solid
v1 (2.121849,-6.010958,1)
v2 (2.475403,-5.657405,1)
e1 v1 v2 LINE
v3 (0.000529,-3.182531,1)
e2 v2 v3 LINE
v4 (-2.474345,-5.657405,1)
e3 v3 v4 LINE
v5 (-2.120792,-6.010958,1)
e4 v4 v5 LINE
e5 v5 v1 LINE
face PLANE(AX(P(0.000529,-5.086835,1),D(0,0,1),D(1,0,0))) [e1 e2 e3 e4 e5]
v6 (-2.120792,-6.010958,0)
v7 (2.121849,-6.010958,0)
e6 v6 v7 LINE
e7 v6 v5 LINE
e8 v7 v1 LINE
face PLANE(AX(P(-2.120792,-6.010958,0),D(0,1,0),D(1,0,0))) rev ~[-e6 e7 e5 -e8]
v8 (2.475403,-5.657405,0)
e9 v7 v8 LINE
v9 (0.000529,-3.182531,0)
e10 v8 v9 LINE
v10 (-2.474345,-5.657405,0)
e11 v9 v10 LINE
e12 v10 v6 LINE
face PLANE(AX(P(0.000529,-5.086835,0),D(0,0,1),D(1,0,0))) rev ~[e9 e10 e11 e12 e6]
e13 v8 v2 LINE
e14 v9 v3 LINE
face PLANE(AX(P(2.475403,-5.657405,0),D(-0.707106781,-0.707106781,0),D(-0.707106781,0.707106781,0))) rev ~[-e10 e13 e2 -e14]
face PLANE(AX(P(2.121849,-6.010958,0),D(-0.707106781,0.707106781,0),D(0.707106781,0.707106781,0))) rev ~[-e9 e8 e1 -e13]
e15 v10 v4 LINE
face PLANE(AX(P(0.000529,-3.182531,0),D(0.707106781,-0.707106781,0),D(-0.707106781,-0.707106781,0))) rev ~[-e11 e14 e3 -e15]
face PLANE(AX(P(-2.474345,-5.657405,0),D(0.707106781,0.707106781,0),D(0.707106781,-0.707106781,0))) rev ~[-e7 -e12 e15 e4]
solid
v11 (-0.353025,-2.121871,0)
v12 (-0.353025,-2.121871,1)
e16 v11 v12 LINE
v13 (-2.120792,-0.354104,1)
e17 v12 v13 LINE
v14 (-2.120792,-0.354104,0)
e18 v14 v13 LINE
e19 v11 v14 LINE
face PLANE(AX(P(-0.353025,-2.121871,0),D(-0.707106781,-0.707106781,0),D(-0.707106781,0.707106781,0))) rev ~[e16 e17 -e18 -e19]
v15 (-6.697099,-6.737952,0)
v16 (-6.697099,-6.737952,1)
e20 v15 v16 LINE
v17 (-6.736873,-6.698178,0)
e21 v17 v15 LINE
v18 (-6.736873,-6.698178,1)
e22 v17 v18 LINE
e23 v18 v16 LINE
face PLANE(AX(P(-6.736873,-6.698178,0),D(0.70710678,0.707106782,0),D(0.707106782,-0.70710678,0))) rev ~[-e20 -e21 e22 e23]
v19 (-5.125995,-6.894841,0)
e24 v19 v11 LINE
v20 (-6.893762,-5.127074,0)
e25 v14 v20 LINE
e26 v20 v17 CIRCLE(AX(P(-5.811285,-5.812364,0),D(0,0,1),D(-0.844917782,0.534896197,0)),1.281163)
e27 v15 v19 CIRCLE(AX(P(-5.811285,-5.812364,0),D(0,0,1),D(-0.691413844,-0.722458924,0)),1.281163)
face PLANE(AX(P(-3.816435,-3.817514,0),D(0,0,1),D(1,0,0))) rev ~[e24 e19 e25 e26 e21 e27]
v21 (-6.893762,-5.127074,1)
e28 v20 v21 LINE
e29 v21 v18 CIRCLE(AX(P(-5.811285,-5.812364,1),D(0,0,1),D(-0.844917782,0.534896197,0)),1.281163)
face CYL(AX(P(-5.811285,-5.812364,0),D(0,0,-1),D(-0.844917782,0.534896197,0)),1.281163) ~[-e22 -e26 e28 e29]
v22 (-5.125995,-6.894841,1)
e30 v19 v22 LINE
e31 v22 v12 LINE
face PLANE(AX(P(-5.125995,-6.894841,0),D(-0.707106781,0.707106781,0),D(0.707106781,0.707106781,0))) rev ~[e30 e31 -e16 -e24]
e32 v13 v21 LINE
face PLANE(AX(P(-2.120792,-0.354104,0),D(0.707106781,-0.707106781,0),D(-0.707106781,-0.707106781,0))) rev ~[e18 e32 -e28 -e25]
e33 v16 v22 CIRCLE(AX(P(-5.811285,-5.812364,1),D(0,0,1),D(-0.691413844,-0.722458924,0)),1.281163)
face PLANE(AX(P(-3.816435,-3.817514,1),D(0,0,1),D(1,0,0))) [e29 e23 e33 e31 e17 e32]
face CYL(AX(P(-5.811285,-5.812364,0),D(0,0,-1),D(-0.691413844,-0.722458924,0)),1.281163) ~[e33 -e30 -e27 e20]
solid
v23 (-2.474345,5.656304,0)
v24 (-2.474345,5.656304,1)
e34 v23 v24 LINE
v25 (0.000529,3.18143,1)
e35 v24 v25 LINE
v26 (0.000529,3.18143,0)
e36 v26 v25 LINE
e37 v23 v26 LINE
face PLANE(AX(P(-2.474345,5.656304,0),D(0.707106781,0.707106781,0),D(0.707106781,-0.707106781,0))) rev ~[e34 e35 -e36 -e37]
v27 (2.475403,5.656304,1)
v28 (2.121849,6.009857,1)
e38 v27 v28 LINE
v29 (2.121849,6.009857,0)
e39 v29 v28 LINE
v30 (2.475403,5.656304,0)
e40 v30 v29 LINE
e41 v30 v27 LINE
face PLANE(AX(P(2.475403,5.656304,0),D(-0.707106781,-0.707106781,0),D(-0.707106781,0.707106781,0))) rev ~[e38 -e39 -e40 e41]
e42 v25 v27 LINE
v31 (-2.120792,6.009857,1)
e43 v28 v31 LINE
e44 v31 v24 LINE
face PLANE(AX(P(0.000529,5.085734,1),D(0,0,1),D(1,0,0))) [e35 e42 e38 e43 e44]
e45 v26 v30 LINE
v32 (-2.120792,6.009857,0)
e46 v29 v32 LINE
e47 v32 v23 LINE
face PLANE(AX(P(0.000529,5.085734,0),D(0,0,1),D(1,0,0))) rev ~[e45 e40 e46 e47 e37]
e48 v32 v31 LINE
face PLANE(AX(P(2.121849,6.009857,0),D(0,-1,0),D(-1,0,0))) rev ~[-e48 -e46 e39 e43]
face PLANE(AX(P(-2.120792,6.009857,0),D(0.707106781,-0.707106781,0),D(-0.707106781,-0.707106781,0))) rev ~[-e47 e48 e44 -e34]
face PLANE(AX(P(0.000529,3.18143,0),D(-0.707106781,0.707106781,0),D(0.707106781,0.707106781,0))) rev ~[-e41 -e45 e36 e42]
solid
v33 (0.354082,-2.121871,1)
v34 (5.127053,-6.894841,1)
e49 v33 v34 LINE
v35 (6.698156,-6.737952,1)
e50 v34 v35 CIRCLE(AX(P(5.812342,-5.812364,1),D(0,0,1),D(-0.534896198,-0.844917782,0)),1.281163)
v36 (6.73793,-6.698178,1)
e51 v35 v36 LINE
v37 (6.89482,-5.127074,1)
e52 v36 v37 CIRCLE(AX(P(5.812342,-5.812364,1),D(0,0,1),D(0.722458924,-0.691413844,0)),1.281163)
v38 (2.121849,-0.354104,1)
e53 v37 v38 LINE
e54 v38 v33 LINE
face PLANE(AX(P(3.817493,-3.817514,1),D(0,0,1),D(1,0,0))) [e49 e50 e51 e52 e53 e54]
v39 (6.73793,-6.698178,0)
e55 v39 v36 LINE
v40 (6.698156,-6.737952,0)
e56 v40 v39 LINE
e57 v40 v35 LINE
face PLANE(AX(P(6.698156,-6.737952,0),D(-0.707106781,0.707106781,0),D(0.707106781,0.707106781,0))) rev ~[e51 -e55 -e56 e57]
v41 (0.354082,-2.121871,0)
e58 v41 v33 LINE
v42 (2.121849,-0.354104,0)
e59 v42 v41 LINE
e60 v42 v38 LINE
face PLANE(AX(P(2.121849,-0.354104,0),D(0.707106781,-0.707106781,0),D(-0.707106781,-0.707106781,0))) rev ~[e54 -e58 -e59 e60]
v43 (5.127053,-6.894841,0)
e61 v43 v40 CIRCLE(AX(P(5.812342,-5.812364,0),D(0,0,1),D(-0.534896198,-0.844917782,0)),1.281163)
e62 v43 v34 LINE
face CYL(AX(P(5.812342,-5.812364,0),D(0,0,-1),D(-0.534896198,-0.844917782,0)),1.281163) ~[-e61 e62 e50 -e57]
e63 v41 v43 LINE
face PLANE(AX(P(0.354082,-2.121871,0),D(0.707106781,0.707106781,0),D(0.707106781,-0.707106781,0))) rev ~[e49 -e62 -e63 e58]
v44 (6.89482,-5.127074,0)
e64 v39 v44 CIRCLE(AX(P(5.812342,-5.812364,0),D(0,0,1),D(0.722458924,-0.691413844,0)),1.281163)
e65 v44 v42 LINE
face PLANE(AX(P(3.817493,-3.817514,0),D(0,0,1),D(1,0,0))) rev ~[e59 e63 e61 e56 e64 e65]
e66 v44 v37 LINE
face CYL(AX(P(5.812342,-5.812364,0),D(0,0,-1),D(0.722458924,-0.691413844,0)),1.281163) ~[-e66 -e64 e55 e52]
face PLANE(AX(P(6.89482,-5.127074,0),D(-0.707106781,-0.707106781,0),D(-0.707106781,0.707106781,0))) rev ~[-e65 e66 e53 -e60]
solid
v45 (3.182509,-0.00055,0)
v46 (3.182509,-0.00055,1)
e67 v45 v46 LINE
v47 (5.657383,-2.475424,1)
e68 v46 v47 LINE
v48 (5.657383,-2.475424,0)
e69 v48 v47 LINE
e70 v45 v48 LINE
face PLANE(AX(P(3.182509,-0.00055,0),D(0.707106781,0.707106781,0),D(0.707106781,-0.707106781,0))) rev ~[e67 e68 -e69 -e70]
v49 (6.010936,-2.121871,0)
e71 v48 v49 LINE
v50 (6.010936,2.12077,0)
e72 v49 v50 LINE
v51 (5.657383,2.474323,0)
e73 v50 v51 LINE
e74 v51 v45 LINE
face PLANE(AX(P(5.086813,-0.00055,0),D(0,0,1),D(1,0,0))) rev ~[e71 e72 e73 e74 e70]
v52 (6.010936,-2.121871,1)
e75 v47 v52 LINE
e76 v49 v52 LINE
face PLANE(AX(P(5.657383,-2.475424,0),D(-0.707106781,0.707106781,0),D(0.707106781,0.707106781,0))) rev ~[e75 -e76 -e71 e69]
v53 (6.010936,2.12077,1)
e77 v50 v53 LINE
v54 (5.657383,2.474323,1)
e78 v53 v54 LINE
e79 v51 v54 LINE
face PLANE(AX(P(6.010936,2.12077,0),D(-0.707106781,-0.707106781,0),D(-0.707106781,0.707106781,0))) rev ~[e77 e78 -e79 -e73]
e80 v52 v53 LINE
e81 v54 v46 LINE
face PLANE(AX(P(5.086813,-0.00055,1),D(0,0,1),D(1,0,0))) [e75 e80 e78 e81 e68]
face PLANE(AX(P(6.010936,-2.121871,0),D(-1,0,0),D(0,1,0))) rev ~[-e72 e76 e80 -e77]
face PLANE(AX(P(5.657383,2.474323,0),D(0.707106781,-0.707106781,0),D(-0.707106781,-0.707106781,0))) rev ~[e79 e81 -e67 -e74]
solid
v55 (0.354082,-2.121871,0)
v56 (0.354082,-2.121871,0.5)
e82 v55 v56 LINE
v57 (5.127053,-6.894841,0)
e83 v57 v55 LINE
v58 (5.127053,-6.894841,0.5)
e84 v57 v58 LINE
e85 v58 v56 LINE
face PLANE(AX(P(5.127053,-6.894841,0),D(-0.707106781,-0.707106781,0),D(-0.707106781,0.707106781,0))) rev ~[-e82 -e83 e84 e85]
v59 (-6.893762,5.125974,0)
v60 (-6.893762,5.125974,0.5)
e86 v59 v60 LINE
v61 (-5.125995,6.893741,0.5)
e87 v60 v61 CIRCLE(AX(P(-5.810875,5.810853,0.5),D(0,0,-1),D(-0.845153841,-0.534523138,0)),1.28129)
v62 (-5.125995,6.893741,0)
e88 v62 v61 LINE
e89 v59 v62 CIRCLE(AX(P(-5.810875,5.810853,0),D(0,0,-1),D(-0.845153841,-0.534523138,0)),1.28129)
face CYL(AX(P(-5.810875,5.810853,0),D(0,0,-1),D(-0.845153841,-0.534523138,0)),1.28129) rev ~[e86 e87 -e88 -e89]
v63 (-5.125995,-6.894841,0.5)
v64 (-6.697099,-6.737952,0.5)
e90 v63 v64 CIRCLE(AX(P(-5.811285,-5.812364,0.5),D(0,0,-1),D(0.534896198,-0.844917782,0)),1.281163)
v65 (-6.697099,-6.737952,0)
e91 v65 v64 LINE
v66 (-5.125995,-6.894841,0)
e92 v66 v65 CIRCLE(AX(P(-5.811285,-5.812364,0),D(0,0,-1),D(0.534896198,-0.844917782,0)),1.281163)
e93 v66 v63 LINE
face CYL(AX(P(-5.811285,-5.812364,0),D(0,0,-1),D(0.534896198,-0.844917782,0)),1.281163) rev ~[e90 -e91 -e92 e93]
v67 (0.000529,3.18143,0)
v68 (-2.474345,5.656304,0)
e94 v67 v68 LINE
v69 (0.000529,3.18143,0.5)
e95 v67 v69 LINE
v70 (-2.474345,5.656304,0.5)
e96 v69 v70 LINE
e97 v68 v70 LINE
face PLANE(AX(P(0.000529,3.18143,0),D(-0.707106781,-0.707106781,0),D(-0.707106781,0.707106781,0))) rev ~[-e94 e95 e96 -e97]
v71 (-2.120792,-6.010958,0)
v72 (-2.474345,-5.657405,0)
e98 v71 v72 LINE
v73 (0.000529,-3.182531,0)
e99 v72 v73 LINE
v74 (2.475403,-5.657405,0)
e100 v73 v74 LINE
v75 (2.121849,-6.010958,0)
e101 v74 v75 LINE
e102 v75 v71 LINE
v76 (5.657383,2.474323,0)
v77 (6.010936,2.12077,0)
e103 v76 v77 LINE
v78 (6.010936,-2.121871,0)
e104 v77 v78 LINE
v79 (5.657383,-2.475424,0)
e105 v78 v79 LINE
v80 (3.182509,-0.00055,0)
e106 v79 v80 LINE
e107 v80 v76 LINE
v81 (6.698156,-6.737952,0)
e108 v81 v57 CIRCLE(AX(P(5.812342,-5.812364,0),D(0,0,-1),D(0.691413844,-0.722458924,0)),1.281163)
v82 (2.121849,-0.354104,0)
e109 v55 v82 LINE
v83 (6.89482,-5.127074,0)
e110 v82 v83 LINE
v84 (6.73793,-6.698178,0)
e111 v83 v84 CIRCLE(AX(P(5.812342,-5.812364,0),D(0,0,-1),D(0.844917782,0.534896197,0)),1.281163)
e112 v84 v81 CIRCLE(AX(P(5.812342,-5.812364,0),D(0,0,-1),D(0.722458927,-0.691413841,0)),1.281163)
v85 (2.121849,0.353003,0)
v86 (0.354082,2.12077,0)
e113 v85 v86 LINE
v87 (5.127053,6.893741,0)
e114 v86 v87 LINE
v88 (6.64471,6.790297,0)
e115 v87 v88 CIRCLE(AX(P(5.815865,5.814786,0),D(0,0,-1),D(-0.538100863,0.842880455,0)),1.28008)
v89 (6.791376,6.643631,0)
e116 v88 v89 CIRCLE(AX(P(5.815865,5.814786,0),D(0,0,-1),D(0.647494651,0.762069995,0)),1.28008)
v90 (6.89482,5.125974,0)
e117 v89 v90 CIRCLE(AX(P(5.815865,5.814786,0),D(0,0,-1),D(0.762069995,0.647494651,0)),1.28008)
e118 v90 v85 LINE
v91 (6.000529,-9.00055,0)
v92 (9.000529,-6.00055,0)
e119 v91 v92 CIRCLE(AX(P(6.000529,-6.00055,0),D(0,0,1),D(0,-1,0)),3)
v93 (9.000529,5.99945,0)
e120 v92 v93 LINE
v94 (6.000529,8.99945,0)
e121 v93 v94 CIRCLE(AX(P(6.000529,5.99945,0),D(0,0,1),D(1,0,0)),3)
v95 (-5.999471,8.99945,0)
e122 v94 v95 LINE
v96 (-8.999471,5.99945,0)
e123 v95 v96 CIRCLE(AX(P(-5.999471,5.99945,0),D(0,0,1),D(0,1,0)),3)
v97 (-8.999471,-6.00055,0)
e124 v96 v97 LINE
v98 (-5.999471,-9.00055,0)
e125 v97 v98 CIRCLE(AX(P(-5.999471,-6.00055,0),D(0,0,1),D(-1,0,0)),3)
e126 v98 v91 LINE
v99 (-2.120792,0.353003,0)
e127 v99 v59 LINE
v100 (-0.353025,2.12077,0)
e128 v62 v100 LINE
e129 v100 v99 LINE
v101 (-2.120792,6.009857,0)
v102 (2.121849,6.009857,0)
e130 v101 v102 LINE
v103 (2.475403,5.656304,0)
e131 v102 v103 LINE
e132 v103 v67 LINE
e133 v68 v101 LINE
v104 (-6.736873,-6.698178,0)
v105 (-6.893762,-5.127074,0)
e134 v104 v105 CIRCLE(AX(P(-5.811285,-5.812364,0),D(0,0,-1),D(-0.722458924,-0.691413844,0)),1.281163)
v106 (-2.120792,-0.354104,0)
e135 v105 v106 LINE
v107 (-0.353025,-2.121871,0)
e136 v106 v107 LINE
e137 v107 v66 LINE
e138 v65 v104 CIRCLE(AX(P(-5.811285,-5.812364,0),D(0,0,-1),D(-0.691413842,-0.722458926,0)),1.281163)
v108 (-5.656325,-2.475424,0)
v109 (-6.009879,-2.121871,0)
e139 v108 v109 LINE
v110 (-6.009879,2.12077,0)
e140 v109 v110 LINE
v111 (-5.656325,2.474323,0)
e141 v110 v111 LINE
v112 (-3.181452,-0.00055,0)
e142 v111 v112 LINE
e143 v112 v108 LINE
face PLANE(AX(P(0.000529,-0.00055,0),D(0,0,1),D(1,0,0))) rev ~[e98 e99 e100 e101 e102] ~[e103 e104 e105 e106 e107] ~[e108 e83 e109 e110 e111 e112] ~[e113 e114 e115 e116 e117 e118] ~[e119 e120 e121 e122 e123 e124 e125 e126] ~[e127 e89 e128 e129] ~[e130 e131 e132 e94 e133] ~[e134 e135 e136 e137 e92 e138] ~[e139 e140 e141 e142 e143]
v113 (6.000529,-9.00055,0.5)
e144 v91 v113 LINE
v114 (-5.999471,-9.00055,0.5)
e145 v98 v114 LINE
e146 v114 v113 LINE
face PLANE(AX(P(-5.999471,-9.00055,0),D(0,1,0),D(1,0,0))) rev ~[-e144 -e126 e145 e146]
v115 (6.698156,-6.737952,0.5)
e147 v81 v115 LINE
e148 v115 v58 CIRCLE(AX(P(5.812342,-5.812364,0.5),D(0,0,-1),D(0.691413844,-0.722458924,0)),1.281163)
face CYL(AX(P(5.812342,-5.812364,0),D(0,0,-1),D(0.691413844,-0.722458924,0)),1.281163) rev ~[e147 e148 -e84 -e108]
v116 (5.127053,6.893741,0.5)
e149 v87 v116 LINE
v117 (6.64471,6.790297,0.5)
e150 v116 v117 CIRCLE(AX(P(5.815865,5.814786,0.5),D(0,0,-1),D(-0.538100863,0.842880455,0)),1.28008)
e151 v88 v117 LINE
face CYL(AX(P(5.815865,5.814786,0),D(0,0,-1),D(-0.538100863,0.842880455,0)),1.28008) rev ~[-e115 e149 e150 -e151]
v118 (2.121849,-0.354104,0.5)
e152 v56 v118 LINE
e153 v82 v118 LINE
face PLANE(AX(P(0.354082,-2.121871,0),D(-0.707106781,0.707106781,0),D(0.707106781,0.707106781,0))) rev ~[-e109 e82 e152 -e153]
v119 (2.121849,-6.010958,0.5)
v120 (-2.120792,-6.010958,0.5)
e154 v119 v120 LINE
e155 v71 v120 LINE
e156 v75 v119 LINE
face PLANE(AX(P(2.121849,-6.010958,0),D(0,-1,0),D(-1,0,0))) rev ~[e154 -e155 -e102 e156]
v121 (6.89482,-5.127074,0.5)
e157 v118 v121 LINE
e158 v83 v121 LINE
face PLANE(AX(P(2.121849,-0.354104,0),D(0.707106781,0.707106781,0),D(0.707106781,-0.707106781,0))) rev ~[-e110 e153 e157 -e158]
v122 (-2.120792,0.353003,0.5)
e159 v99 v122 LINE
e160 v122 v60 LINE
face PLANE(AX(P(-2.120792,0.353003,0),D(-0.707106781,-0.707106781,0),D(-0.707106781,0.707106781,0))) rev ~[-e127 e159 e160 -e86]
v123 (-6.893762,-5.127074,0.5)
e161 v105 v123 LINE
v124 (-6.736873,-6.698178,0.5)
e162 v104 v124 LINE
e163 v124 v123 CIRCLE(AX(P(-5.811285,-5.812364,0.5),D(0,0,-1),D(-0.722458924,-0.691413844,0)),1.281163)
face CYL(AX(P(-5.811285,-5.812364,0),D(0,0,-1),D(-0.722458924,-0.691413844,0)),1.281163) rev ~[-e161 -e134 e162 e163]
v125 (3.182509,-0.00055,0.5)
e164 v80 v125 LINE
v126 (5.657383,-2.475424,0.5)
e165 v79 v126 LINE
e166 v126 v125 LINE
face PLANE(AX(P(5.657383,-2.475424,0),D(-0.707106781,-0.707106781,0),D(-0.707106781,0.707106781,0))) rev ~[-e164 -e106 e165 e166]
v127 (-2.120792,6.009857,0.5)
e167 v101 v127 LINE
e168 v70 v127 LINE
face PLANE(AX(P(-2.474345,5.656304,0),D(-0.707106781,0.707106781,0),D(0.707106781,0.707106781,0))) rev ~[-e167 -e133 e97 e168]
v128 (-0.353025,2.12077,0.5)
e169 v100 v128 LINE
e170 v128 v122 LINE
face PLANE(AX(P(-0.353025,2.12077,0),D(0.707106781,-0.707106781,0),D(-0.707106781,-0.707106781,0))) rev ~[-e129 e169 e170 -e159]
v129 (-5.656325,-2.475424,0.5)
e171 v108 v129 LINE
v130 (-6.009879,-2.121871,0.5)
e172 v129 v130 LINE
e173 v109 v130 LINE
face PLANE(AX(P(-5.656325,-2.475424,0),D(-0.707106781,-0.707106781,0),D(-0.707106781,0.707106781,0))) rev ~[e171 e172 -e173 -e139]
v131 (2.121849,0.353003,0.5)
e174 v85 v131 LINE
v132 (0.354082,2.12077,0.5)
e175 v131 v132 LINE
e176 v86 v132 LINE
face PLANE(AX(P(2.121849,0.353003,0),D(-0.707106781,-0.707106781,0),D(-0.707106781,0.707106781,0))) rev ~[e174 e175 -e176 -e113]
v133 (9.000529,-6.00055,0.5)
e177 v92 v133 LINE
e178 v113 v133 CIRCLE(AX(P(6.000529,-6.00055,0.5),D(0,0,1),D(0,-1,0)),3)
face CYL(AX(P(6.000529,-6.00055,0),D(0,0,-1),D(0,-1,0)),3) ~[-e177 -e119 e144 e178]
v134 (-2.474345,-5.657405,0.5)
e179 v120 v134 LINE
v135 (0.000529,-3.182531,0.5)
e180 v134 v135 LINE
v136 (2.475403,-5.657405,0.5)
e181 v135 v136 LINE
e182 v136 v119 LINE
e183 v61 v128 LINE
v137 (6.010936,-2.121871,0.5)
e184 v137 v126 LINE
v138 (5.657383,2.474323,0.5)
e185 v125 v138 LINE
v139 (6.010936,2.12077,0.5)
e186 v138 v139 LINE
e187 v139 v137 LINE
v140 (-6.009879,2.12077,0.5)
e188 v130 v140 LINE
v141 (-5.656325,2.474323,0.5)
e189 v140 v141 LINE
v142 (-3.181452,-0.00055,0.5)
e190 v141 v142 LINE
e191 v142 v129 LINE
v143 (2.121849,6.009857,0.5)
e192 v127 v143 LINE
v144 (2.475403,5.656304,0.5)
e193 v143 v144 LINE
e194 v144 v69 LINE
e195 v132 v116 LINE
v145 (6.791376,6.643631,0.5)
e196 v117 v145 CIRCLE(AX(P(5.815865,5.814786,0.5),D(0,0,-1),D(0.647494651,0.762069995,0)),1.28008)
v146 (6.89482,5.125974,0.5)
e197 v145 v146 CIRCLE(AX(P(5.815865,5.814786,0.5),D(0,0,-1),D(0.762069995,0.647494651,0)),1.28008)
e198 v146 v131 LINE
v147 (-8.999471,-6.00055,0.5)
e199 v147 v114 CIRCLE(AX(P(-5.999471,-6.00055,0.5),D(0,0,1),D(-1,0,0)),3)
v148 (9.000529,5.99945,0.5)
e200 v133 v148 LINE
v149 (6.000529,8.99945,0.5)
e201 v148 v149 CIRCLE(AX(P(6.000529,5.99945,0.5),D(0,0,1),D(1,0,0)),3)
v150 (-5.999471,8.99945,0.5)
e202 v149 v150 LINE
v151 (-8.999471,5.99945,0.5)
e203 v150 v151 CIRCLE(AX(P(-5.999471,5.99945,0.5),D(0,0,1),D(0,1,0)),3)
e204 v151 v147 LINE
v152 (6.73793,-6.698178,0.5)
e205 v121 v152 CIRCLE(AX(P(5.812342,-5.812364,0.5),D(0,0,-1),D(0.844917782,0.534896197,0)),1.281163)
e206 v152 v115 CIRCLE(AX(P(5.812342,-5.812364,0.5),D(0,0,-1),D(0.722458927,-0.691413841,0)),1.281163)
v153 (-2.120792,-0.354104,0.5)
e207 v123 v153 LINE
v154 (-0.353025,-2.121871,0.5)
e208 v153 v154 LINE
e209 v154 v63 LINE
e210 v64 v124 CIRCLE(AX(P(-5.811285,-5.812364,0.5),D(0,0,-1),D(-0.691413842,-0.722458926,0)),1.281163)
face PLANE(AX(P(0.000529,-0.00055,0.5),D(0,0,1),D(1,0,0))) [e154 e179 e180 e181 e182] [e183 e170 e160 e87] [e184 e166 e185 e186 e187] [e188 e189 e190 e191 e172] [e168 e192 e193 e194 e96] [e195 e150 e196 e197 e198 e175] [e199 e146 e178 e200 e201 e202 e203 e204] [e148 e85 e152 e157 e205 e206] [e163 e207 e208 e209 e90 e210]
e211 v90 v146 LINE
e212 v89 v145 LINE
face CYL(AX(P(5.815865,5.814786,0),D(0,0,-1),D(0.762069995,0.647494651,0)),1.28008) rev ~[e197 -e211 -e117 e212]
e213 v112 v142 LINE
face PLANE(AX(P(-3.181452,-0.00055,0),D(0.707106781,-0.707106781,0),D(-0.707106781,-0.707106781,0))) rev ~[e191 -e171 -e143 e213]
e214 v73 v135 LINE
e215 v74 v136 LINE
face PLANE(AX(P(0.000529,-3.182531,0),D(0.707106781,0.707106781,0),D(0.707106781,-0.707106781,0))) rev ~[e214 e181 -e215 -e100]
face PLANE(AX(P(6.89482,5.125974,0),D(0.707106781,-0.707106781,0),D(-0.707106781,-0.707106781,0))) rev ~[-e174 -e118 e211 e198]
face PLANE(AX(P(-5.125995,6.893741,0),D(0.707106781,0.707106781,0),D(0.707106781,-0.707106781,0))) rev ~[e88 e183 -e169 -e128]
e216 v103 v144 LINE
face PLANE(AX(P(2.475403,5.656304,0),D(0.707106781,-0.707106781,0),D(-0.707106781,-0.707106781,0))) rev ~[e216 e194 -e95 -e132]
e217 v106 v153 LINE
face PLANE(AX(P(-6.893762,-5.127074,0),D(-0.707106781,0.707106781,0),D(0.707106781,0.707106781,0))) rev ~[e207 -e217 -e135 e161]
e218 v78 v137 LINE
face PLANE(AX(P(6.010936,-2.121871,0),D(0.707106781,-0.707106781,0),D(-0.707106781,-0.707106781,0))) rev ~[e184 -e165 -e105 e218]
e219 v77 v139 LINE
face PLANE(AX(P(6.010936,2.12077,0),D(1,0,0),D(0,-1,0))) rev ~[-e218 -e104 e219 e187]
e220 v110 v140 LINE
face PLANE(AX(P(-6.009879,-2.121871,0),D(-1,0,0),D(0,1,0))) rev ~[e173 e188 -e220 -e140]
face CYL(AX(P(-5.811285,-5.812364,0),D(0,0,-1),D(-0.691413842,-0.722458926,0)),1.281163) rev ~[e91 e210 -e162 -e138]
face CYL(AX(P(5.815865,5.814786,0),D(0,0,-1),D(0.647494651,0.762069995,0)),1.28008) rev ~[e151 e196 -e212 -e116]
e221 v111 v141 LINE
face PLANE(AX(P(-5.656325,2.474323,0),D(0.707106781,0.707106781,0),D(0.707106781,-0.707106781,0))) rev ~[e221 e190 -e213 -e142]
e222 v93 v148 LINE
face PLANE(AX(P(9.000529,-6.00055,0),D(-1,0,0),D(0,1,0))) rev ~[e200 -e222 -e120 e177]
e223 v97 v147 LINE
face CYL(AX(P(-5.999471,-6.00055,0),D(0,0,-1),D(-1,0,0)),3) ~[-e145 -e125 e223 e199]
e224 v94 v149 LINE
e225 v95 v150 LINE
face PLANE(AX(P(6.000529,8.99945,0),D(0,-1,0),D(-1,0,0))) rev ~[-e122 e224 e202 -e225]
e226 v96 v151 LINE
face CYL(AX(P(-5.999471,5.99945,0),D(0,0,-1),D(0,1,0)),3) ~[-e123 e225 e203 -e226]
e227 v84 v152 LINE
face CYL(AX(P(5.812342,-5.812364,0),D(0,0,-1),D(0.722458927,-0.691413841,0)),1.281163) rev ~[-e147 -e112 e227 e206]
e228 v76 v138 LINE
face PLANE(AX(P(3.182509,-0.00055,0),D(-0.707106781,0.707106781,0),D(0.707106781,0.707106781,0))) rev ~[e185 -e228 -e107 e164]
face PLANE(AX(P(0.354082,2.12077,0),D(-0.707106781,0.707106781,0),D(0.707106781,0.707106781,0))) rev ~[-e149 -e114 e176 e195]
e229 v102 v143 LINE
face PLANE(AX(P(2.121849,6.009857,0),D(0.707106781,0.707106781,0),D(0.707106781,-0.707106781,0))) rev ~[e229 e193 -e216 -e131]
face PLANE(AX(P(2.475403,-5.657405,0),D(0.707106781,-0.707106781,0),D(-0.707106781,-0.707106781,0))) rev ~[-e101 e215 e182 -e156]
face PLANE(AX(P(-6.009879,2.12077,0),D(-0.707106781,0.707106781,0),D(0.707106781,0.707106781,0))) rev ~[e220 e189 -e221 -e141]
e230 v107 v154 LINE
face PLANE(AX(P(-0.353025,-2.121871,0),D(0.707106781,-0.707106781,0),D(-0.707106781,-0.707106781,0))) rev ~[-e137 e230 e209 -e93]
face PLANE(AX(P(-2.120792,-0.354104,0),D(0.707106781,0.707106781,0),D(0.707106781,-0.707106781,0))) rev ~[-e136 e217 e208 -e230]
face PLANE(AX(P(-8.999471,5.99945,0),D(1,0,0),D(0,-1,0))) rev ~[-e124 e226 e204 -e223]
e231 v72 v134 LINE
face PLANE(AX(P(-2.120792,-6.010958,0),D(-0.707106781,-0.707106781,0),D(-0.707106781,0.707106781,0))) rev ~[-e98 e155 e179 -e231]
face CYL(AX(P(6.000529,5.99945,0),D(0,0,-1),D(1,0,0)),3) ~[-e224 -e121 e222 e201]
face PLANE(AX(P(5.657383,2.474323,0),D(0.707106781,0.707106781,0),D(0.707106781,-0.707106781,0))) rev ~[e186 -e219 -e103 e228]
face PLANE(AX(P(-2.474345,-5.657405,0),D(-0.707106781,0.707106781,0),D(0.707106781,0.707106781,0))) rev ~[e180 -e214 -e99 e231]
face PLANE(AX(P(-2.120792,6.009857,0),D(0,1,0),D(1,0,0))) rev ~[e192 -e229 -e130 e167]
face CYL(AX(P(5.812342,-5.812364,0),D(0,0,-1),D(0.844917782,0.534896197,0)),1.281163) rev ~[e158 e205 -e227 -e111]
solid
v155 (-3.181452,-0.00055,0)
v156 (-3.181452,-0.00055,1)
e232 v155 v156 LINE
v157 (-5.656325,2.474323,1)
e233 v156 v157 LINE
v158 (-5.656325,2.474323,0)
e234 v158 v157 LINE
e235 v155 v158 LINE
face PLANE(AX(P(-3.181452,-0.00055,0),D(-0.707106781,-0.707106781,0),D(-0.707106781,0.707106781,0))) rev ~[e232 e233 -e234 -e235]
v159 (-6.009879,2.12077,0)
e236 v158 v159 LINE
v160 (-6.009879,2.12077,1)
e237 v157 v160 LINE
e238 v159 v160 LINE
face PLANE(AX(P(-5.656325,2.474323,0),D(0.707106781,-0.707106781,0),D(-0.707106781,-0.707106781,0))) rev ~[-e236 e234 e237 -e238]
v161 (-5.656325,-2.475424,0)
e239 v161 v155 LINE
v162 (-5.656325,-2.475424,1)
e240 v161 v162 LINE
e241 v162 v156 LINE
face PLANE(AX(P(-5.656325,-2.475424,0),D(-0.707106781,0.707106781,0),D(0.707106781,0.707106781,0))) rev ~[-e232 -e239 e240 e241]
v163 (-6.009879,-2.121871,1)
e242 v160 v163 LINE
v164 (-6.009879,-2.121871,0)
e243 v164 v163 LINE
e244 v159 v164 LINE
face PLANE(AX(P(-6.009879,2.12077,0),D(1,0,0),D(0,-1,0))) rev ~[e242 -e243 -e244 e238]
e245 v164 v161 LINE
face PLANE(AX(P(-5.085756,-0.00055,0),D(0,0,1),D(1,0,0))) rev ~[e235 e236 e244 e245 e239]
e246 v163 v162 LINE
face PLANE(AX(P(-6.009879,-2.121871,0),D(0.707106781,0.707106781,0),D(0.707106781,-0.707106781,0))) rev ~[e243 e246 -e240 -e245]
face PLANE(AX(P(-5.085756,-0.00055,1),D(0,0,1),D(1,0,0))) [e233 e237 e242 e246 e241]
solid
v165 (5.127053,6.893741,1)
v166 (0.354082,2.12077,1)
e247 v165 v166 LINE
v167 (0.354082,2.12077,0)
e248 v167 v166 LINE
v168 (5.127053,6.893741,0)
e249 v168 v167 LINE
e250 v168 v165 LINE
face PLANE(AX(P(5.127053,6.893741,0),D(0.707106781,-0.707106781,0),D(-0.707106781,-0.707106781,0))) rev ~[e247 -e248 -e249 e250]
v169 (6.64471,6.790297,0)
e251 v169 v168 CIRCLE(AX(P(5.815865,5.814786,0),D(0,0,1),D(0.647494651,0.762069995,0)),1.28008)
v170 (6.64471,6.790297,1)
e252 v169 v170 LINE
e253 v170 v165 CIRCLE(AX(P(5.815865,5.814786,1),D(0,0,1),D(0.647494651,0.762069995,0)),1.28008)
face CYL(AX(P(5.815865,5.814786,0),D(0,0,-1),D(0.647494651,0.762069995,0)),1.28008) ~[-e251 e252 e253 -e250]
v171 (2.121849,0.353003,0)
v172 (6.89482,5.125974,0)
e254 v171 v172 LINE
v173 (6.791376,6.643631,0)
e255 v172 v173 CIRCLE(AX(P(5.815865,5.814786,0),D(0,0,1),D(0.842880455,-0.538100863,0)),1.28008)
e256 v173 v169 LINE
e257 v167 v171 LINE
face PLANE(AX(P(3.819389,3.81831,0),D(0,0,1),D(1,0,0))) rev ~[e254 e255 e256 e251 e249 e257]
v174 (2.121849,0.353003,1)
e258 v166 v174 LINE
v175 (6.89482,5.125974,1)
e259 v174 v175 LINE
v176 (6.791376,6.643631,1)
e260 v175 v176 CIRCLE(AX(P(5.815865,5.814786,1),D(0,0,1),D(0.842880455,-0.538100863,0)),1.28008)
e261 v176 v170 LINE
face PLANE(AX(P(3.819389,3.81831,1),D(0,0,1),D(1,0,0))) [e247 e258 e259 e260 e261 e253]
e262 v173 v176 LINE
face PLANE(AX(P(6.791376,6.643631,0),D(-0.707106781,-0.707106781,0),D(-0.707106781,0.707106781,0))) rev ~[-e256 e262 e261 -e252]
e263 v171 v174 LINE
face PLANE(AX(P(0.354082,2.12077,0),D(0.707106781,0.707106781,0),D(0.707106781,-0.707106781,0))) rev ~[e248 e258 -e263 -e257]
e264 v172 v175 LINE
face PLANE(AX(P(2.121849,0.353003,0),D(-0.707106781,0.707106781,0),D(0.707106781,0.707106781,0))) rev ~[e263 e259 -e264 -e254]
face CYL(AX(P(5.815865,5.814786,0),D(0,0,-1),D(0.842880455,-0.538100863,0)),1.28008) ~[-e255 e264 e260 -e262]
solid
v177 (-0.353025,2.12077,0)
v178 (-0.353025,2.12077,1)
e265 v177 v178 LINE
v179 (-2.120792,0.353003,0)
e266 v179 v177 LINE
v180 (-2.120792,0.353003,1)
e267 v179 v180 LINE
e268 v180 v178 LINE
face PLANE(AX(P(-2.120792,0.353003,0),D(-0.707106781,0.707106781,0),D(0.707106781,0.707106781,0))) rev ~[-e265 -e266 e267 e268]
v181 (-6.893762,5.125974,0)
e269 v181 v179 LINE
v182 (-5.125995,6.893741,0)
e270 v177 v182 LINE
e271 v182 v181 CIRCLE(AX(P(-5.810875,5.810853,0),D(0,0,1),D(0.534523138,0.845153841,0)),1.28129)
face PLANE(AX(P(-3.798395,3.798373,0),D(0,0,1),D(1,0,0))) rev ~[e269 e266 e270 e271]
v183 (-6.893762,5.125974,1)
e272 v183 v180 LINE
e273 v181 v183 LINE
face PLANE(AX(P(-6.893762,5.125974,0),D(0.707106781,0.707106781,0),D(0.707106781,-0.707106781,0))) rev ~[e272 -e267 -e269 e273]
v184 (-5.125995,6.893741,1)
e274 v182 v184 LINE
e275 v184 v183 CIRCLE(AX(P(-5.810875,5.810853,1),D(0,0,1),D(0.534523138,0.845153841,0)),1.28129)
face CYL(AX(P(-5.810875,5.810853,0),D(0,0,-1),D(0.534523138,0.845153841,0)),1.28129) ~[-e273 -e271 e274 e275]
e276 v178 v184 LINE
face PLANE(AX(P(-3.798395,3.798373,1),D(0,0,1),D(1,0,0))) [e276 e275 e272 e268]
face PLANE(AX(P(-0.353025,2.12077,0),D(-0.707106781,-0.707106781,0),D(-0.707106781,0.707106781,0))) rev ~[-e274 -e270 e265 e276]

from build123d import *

# Parameters (mm, degrees)
F1_DEPTH = 1
F2_DEPTH = 0.5


with BuildPart() as f1:
    # F0 (on Top) → F1 (new body)
    with BuildSketch(Plane.XY):
        with BuildLine():
            ThreePointArc((-5.1259953704, 6.8937408063), (-6.7168839424, 6.7168624253), (-6.8937623233, 5.1259738533))
            Line((-6.8937623233, 5.1259738533), (-2.1207915503, 0.3530030803))
            Line((-2.1207915503, 0.3530030803), (-0.3530245974, 2.1207700332))
            Line((-0.3530245974, 2.1207700332), (-5.1259953704, 6.8937408063))
        make_face()
    extrude(amount=F1_DEPTH)


with BuildPart() as f1b:
    # F0 (on Top) → F1, piece 2 (new body)
    with BuildSketch(Plane.XY):
        Polygon((-5.6563254563, -2.4754240445), (-3.1814517221, -0.0005503103), (-5.6563254563, 2.4743234238), (-6.0098788468, 2.1207700332), (-6.0098788468, -2.1218706539), align=None)
    extrude(amount=F1_DEPTH)


with BuildPart() as f1c:
    # F0 (on Top) → F1, piece 3 (new body)
    with BuildSketch(Plane.XY):
        Polygon((-2.4743449409, 5.6563039392), (0.0005287932, 3.181430205), (2.4754025274, 5.6563039392), (2.1218491368, 6.0098573298), (-2.1207915503, 6.0098573298), align=None)
    extrude(amount=F1_DEPTH)


with BuildPart() as f1d:
    # F0 (on Top) → F1, piece 4 (new body)
    with BuildSketch(Plane.XY):
        with BuildLine():
            ThreePointArc((6.6447103956, 6.7902969298), (5.9029138526, 7.0919032496), (5.1270529568, 6.8937408063))
            Line((5.1270529568, 6.8937408063), (0.3540821838, 2.1207700332))
            Line((0.3540821838, 2.1207700332), (2.1218491368, 0.3530030803))
            Line((2.1218491368, 0.3530030803), (6.8948199098, 5.1259738533))
            ThreePointArc((6.8948199098, 5.1259738533), (7.0929823531, 5.901834749), (6.7913760334, 6.6436312921))
            Line((6.7913760334, 6.6436312921), (6.6447103956, 6.7902969298))
        make_face()
    extrude(amount=F1_DEPTH)


with BuildPart() as f1e:
    # F0 (on Top) → F1, piece 5 (new body)
    with BuildSketch(Plane.XY):
        Polygon((5.6573830427, 2.4743234238), (3.1825093086, -0.0005503103), (5.6573830427, -2.4754240445), (6.0109364333, -2.1218706539), (6.0109364333, 2.1207700332), align=None)
    extrude(amount=F1_DEPTH)


with BuildPart() as f1f:
    # F0 (on Top) → F1, piece 6 (new body)
    with BuildSketch(Plane.XY):
        with BuildLine():
            ThreePointArc((5.1270529568, -6.8948414269), (5.9396456258, -7.0871866013), (6.6981563067, -6.7379516394))
            Line((6.6981563067, -6.7379516394), (6.7379301223, -6.6981778238))
            ThreePointArc((6.7379301223, -6.6981778238), (7.0871650842, -5.9396671428), (6.8948199098, -5.1270744739))
            Line((6.8948199098, -5.1270744739), (2.1218491368, -0.3541037009))
            Line((2.1218491368, -0.3541037009), (0.3540821838, -2.1218706539))
            Line((0.3540821838, -2.1218706539), (5.1270529568, -6.8948414269))
        make_face()
    extrude(amount=F1_DEPTH)


with BuildPart() as f1g:
    # F0 (on Top) → F1, piece 7 (new body)
    with BuildSketch(Plane.XY):
        Polygon((2.4754025274, -5.6574045598), (0.0005287932, -3.1825308257), (-2.4743449409, -5.6574045598), (-2.1207915503, -6.0109579504), (2.1218491368, -6.0109579504), align=None)
    extrude(amount=F1_DEPTH)


with BuildPart() as f1h:
    # F0 (on Top) → F1, piece 8 (new body)
    with BuildSketch(Plane.XY):
        with BuildLine():
            ThreePointArc((-6.8937623233, -5.1270744739), (-7.0861074977, -5.9396671428), (-6.7368725359, -6.6981778238))
            Line((-6.7368725359, -6.6981778238), (-6.6970987202, -6.7379516394))
            ThreePointArc((-6.6970987202, -6.7379516394), (-5.9385880393, -7.0871866013), (-5.1259953704, -6.8948414269))
            Line((-5.1259953704, -6.8948414269), (-0.3530245974, -2.1218706539))
            Line((-0.3530245974, -2.1218706539), (-2.1207915503, -0.3541037009))
            Line((-2.1207915503, -0.3541037009), (-6.8937623233, -5.1270744739))
        make_face()
    extrude(amount=F1_DEPTH)


with BuildPart() as f2:
    # F0 (on Top) → F2 (new body)
    with BuildSketch(Plane.XY):
        with BuildLine():
            Line((-5.9994712068, -9.0005503103), (6.0005287932, -9.0005503103))
            ThreePointArc((6.0005287932, -9.0005503103), (8.1218491368, -8.1218706539), (9.0005287932, -6.0005503103))
            Line((9.0005287932, -6.0005503103), (9.0005287932, 5.9994496897))
            ThreePointArc((9.0005287932, 5.9994496897), (8.1218491368, 8.1207700332), (6.0005287932, 8.9994496897))
            Line((6.0005287932, 8.9994496897), (-5.9994712068, 8.9994496897))
            ThreePointArc((-5.9994712068, 8.9994496897), (-8.1207915503, 8.1207700332), (-8.9994712068, 5.9994496897))
            Line((-8.9994712068, 5.9994496897), (-8.9994712068, -6.0005503103))
            ThreePointArc((-8.9994712068, -6.0005503103), (-8.1207915503, -8.1218706539), (-5.9994712068, -9.0005503103))
        make_face()
        Polygon((-2.4743449409, -5.6574045598), (0.0005287932, -3.1825308257), (2.4754025274, -5.6574045598), (2.1218491368, -6.0109579504), (-2.1207915503, -6.0109579504), align=None, mode=Mode.SUBTRACT)
        Polygon((-5.6563254563, 2.4743234238), (-3.1814517221, -0.0005503103), (-5.6563254563, -2.4754240445), (-6.0098788468, -2.1218706539), (-6.0098788468, 2.1207700332), align=None, mode=Mode.SUBTRACT)
        with BuildLine():
            ThreePointArc((-6.6970987202, -6.7379516394), (-6.7172039349, -6.7182830385), (-6.7368725359, -6.6981778238))
            ThreePointArc((-6.7368725359, -6.6981778238), (-7.0861074977, -5.9396671428), (-6.8937623233, -5.1270744739))
            Line((-6.8937623233, -5.1270744739), (-2.1207915503, -0.3541037009))
            Line((-2.1207915503, -0.3541037009), (-0.3530245974, -2.1218706539))
            Line((-0.3530245974, -2.1218706539), (-5.1259953704, -6.8948414269))
            ThreePointArc((-5.1259953704, -6.8948414269), (-5.9385880393, -7.0871866013), (-6.6970987202, -6.7379516394))
        make_face(mode=Mode.SUBTRACT)
        with BuildLine():
            ThreePointArc((6.7379301223, -6.6981778238), (6.7182615214, -6.7182830385), (6.6981563067, -6.7379516394))
            ThreePointArc((6.6981563067, -6.7379516394), (5.9396456258, -7.0871866013), (5.1270529568, -6.8948414269))
            Line((5.1270529568, -6.8948414269), (0.3540821838, -2.1218706539))
            Line((0.3540821838, -2.1218706539), (2.1218491368, -0.3541037009))
            Line((2.1218491368, -0.3541037009), (6.8948199098, -5.1270744739))
            ThreePointArc((6.8948199098, -5.1270744739), (7.0871650842, -5.9396671428), (6.7379301223, -6.6981778238))
        make_face(mode=Mode.SUBTRACT)
        with BuildLine():
            Line((-2.1207915503, 0.3530030803), (-6.8937623233, 5.1259738533))
            ThreePointArc((-6.8937623233, 5.1259738533), (-6.7168839424, 6.7168624253), (-5.1259953704, 6.8937408063))
            Line((-5.1259953704, 6.8937408063), (-0.3530245974, 2.1207700332))
            Line((-0.3530245974, 2.1207700332), (-2.1207915503, 0.3530030803))
        make_face(mode=Mode.SUBTRACT)
        Polygon((2.4754025274, 5.6563039392), (0.0005287932, 3.181430205), (-2.4743449409, 5.6563039392), (-2.1207915503, 6.0098573298), (2.1218491368, 6.0098573298), align=None, mode=Mode.SUBTRACT)
        with BuildLine():
            Line((0.3540821838, 2.1207700332), (5.1270529568, 6.8937408063))
            ThreePointArc((5.1270529568, 6.8937408063), (5.9029138526, 7.0919032496), (6.6447103956, 6.7902969298))
            ThreePointArc((6.6447103956, 6.7902969298), (6.7210187077, 6.7199396042), (6.7913760334, 6.6436312921))
            ThreePointArc((6.7913760334, 6.6436312921), (7.0929823531, 5.901834749), (6.8948199098, 5.1259738533))
            Line((6.8948199098, 5.1259738533), (2.1218491368, 0.3530030803))
            Line((2.1218491368, 0.3530030803), (0.3540821838, 2.1207700332))
        make_face(mode=Mode.SUBTRACT)
        Polygon((5.6573830427, -2.4754240445), (3.1825093086, -0.0005503103), (5.6573830427, 2.4743234238), (6.0109364333, 2.1207700332), (6.0109364333, -2.1218706539), align=None, mode=Mode.SUBTRACT)
    extrude(amount=F2_DEPTH)


solid = Compound([f1.part, f1b.part, f1c.part, f1d.part, f1e.part, f1f.part, f1g.part, f1h.part, f2.part])
